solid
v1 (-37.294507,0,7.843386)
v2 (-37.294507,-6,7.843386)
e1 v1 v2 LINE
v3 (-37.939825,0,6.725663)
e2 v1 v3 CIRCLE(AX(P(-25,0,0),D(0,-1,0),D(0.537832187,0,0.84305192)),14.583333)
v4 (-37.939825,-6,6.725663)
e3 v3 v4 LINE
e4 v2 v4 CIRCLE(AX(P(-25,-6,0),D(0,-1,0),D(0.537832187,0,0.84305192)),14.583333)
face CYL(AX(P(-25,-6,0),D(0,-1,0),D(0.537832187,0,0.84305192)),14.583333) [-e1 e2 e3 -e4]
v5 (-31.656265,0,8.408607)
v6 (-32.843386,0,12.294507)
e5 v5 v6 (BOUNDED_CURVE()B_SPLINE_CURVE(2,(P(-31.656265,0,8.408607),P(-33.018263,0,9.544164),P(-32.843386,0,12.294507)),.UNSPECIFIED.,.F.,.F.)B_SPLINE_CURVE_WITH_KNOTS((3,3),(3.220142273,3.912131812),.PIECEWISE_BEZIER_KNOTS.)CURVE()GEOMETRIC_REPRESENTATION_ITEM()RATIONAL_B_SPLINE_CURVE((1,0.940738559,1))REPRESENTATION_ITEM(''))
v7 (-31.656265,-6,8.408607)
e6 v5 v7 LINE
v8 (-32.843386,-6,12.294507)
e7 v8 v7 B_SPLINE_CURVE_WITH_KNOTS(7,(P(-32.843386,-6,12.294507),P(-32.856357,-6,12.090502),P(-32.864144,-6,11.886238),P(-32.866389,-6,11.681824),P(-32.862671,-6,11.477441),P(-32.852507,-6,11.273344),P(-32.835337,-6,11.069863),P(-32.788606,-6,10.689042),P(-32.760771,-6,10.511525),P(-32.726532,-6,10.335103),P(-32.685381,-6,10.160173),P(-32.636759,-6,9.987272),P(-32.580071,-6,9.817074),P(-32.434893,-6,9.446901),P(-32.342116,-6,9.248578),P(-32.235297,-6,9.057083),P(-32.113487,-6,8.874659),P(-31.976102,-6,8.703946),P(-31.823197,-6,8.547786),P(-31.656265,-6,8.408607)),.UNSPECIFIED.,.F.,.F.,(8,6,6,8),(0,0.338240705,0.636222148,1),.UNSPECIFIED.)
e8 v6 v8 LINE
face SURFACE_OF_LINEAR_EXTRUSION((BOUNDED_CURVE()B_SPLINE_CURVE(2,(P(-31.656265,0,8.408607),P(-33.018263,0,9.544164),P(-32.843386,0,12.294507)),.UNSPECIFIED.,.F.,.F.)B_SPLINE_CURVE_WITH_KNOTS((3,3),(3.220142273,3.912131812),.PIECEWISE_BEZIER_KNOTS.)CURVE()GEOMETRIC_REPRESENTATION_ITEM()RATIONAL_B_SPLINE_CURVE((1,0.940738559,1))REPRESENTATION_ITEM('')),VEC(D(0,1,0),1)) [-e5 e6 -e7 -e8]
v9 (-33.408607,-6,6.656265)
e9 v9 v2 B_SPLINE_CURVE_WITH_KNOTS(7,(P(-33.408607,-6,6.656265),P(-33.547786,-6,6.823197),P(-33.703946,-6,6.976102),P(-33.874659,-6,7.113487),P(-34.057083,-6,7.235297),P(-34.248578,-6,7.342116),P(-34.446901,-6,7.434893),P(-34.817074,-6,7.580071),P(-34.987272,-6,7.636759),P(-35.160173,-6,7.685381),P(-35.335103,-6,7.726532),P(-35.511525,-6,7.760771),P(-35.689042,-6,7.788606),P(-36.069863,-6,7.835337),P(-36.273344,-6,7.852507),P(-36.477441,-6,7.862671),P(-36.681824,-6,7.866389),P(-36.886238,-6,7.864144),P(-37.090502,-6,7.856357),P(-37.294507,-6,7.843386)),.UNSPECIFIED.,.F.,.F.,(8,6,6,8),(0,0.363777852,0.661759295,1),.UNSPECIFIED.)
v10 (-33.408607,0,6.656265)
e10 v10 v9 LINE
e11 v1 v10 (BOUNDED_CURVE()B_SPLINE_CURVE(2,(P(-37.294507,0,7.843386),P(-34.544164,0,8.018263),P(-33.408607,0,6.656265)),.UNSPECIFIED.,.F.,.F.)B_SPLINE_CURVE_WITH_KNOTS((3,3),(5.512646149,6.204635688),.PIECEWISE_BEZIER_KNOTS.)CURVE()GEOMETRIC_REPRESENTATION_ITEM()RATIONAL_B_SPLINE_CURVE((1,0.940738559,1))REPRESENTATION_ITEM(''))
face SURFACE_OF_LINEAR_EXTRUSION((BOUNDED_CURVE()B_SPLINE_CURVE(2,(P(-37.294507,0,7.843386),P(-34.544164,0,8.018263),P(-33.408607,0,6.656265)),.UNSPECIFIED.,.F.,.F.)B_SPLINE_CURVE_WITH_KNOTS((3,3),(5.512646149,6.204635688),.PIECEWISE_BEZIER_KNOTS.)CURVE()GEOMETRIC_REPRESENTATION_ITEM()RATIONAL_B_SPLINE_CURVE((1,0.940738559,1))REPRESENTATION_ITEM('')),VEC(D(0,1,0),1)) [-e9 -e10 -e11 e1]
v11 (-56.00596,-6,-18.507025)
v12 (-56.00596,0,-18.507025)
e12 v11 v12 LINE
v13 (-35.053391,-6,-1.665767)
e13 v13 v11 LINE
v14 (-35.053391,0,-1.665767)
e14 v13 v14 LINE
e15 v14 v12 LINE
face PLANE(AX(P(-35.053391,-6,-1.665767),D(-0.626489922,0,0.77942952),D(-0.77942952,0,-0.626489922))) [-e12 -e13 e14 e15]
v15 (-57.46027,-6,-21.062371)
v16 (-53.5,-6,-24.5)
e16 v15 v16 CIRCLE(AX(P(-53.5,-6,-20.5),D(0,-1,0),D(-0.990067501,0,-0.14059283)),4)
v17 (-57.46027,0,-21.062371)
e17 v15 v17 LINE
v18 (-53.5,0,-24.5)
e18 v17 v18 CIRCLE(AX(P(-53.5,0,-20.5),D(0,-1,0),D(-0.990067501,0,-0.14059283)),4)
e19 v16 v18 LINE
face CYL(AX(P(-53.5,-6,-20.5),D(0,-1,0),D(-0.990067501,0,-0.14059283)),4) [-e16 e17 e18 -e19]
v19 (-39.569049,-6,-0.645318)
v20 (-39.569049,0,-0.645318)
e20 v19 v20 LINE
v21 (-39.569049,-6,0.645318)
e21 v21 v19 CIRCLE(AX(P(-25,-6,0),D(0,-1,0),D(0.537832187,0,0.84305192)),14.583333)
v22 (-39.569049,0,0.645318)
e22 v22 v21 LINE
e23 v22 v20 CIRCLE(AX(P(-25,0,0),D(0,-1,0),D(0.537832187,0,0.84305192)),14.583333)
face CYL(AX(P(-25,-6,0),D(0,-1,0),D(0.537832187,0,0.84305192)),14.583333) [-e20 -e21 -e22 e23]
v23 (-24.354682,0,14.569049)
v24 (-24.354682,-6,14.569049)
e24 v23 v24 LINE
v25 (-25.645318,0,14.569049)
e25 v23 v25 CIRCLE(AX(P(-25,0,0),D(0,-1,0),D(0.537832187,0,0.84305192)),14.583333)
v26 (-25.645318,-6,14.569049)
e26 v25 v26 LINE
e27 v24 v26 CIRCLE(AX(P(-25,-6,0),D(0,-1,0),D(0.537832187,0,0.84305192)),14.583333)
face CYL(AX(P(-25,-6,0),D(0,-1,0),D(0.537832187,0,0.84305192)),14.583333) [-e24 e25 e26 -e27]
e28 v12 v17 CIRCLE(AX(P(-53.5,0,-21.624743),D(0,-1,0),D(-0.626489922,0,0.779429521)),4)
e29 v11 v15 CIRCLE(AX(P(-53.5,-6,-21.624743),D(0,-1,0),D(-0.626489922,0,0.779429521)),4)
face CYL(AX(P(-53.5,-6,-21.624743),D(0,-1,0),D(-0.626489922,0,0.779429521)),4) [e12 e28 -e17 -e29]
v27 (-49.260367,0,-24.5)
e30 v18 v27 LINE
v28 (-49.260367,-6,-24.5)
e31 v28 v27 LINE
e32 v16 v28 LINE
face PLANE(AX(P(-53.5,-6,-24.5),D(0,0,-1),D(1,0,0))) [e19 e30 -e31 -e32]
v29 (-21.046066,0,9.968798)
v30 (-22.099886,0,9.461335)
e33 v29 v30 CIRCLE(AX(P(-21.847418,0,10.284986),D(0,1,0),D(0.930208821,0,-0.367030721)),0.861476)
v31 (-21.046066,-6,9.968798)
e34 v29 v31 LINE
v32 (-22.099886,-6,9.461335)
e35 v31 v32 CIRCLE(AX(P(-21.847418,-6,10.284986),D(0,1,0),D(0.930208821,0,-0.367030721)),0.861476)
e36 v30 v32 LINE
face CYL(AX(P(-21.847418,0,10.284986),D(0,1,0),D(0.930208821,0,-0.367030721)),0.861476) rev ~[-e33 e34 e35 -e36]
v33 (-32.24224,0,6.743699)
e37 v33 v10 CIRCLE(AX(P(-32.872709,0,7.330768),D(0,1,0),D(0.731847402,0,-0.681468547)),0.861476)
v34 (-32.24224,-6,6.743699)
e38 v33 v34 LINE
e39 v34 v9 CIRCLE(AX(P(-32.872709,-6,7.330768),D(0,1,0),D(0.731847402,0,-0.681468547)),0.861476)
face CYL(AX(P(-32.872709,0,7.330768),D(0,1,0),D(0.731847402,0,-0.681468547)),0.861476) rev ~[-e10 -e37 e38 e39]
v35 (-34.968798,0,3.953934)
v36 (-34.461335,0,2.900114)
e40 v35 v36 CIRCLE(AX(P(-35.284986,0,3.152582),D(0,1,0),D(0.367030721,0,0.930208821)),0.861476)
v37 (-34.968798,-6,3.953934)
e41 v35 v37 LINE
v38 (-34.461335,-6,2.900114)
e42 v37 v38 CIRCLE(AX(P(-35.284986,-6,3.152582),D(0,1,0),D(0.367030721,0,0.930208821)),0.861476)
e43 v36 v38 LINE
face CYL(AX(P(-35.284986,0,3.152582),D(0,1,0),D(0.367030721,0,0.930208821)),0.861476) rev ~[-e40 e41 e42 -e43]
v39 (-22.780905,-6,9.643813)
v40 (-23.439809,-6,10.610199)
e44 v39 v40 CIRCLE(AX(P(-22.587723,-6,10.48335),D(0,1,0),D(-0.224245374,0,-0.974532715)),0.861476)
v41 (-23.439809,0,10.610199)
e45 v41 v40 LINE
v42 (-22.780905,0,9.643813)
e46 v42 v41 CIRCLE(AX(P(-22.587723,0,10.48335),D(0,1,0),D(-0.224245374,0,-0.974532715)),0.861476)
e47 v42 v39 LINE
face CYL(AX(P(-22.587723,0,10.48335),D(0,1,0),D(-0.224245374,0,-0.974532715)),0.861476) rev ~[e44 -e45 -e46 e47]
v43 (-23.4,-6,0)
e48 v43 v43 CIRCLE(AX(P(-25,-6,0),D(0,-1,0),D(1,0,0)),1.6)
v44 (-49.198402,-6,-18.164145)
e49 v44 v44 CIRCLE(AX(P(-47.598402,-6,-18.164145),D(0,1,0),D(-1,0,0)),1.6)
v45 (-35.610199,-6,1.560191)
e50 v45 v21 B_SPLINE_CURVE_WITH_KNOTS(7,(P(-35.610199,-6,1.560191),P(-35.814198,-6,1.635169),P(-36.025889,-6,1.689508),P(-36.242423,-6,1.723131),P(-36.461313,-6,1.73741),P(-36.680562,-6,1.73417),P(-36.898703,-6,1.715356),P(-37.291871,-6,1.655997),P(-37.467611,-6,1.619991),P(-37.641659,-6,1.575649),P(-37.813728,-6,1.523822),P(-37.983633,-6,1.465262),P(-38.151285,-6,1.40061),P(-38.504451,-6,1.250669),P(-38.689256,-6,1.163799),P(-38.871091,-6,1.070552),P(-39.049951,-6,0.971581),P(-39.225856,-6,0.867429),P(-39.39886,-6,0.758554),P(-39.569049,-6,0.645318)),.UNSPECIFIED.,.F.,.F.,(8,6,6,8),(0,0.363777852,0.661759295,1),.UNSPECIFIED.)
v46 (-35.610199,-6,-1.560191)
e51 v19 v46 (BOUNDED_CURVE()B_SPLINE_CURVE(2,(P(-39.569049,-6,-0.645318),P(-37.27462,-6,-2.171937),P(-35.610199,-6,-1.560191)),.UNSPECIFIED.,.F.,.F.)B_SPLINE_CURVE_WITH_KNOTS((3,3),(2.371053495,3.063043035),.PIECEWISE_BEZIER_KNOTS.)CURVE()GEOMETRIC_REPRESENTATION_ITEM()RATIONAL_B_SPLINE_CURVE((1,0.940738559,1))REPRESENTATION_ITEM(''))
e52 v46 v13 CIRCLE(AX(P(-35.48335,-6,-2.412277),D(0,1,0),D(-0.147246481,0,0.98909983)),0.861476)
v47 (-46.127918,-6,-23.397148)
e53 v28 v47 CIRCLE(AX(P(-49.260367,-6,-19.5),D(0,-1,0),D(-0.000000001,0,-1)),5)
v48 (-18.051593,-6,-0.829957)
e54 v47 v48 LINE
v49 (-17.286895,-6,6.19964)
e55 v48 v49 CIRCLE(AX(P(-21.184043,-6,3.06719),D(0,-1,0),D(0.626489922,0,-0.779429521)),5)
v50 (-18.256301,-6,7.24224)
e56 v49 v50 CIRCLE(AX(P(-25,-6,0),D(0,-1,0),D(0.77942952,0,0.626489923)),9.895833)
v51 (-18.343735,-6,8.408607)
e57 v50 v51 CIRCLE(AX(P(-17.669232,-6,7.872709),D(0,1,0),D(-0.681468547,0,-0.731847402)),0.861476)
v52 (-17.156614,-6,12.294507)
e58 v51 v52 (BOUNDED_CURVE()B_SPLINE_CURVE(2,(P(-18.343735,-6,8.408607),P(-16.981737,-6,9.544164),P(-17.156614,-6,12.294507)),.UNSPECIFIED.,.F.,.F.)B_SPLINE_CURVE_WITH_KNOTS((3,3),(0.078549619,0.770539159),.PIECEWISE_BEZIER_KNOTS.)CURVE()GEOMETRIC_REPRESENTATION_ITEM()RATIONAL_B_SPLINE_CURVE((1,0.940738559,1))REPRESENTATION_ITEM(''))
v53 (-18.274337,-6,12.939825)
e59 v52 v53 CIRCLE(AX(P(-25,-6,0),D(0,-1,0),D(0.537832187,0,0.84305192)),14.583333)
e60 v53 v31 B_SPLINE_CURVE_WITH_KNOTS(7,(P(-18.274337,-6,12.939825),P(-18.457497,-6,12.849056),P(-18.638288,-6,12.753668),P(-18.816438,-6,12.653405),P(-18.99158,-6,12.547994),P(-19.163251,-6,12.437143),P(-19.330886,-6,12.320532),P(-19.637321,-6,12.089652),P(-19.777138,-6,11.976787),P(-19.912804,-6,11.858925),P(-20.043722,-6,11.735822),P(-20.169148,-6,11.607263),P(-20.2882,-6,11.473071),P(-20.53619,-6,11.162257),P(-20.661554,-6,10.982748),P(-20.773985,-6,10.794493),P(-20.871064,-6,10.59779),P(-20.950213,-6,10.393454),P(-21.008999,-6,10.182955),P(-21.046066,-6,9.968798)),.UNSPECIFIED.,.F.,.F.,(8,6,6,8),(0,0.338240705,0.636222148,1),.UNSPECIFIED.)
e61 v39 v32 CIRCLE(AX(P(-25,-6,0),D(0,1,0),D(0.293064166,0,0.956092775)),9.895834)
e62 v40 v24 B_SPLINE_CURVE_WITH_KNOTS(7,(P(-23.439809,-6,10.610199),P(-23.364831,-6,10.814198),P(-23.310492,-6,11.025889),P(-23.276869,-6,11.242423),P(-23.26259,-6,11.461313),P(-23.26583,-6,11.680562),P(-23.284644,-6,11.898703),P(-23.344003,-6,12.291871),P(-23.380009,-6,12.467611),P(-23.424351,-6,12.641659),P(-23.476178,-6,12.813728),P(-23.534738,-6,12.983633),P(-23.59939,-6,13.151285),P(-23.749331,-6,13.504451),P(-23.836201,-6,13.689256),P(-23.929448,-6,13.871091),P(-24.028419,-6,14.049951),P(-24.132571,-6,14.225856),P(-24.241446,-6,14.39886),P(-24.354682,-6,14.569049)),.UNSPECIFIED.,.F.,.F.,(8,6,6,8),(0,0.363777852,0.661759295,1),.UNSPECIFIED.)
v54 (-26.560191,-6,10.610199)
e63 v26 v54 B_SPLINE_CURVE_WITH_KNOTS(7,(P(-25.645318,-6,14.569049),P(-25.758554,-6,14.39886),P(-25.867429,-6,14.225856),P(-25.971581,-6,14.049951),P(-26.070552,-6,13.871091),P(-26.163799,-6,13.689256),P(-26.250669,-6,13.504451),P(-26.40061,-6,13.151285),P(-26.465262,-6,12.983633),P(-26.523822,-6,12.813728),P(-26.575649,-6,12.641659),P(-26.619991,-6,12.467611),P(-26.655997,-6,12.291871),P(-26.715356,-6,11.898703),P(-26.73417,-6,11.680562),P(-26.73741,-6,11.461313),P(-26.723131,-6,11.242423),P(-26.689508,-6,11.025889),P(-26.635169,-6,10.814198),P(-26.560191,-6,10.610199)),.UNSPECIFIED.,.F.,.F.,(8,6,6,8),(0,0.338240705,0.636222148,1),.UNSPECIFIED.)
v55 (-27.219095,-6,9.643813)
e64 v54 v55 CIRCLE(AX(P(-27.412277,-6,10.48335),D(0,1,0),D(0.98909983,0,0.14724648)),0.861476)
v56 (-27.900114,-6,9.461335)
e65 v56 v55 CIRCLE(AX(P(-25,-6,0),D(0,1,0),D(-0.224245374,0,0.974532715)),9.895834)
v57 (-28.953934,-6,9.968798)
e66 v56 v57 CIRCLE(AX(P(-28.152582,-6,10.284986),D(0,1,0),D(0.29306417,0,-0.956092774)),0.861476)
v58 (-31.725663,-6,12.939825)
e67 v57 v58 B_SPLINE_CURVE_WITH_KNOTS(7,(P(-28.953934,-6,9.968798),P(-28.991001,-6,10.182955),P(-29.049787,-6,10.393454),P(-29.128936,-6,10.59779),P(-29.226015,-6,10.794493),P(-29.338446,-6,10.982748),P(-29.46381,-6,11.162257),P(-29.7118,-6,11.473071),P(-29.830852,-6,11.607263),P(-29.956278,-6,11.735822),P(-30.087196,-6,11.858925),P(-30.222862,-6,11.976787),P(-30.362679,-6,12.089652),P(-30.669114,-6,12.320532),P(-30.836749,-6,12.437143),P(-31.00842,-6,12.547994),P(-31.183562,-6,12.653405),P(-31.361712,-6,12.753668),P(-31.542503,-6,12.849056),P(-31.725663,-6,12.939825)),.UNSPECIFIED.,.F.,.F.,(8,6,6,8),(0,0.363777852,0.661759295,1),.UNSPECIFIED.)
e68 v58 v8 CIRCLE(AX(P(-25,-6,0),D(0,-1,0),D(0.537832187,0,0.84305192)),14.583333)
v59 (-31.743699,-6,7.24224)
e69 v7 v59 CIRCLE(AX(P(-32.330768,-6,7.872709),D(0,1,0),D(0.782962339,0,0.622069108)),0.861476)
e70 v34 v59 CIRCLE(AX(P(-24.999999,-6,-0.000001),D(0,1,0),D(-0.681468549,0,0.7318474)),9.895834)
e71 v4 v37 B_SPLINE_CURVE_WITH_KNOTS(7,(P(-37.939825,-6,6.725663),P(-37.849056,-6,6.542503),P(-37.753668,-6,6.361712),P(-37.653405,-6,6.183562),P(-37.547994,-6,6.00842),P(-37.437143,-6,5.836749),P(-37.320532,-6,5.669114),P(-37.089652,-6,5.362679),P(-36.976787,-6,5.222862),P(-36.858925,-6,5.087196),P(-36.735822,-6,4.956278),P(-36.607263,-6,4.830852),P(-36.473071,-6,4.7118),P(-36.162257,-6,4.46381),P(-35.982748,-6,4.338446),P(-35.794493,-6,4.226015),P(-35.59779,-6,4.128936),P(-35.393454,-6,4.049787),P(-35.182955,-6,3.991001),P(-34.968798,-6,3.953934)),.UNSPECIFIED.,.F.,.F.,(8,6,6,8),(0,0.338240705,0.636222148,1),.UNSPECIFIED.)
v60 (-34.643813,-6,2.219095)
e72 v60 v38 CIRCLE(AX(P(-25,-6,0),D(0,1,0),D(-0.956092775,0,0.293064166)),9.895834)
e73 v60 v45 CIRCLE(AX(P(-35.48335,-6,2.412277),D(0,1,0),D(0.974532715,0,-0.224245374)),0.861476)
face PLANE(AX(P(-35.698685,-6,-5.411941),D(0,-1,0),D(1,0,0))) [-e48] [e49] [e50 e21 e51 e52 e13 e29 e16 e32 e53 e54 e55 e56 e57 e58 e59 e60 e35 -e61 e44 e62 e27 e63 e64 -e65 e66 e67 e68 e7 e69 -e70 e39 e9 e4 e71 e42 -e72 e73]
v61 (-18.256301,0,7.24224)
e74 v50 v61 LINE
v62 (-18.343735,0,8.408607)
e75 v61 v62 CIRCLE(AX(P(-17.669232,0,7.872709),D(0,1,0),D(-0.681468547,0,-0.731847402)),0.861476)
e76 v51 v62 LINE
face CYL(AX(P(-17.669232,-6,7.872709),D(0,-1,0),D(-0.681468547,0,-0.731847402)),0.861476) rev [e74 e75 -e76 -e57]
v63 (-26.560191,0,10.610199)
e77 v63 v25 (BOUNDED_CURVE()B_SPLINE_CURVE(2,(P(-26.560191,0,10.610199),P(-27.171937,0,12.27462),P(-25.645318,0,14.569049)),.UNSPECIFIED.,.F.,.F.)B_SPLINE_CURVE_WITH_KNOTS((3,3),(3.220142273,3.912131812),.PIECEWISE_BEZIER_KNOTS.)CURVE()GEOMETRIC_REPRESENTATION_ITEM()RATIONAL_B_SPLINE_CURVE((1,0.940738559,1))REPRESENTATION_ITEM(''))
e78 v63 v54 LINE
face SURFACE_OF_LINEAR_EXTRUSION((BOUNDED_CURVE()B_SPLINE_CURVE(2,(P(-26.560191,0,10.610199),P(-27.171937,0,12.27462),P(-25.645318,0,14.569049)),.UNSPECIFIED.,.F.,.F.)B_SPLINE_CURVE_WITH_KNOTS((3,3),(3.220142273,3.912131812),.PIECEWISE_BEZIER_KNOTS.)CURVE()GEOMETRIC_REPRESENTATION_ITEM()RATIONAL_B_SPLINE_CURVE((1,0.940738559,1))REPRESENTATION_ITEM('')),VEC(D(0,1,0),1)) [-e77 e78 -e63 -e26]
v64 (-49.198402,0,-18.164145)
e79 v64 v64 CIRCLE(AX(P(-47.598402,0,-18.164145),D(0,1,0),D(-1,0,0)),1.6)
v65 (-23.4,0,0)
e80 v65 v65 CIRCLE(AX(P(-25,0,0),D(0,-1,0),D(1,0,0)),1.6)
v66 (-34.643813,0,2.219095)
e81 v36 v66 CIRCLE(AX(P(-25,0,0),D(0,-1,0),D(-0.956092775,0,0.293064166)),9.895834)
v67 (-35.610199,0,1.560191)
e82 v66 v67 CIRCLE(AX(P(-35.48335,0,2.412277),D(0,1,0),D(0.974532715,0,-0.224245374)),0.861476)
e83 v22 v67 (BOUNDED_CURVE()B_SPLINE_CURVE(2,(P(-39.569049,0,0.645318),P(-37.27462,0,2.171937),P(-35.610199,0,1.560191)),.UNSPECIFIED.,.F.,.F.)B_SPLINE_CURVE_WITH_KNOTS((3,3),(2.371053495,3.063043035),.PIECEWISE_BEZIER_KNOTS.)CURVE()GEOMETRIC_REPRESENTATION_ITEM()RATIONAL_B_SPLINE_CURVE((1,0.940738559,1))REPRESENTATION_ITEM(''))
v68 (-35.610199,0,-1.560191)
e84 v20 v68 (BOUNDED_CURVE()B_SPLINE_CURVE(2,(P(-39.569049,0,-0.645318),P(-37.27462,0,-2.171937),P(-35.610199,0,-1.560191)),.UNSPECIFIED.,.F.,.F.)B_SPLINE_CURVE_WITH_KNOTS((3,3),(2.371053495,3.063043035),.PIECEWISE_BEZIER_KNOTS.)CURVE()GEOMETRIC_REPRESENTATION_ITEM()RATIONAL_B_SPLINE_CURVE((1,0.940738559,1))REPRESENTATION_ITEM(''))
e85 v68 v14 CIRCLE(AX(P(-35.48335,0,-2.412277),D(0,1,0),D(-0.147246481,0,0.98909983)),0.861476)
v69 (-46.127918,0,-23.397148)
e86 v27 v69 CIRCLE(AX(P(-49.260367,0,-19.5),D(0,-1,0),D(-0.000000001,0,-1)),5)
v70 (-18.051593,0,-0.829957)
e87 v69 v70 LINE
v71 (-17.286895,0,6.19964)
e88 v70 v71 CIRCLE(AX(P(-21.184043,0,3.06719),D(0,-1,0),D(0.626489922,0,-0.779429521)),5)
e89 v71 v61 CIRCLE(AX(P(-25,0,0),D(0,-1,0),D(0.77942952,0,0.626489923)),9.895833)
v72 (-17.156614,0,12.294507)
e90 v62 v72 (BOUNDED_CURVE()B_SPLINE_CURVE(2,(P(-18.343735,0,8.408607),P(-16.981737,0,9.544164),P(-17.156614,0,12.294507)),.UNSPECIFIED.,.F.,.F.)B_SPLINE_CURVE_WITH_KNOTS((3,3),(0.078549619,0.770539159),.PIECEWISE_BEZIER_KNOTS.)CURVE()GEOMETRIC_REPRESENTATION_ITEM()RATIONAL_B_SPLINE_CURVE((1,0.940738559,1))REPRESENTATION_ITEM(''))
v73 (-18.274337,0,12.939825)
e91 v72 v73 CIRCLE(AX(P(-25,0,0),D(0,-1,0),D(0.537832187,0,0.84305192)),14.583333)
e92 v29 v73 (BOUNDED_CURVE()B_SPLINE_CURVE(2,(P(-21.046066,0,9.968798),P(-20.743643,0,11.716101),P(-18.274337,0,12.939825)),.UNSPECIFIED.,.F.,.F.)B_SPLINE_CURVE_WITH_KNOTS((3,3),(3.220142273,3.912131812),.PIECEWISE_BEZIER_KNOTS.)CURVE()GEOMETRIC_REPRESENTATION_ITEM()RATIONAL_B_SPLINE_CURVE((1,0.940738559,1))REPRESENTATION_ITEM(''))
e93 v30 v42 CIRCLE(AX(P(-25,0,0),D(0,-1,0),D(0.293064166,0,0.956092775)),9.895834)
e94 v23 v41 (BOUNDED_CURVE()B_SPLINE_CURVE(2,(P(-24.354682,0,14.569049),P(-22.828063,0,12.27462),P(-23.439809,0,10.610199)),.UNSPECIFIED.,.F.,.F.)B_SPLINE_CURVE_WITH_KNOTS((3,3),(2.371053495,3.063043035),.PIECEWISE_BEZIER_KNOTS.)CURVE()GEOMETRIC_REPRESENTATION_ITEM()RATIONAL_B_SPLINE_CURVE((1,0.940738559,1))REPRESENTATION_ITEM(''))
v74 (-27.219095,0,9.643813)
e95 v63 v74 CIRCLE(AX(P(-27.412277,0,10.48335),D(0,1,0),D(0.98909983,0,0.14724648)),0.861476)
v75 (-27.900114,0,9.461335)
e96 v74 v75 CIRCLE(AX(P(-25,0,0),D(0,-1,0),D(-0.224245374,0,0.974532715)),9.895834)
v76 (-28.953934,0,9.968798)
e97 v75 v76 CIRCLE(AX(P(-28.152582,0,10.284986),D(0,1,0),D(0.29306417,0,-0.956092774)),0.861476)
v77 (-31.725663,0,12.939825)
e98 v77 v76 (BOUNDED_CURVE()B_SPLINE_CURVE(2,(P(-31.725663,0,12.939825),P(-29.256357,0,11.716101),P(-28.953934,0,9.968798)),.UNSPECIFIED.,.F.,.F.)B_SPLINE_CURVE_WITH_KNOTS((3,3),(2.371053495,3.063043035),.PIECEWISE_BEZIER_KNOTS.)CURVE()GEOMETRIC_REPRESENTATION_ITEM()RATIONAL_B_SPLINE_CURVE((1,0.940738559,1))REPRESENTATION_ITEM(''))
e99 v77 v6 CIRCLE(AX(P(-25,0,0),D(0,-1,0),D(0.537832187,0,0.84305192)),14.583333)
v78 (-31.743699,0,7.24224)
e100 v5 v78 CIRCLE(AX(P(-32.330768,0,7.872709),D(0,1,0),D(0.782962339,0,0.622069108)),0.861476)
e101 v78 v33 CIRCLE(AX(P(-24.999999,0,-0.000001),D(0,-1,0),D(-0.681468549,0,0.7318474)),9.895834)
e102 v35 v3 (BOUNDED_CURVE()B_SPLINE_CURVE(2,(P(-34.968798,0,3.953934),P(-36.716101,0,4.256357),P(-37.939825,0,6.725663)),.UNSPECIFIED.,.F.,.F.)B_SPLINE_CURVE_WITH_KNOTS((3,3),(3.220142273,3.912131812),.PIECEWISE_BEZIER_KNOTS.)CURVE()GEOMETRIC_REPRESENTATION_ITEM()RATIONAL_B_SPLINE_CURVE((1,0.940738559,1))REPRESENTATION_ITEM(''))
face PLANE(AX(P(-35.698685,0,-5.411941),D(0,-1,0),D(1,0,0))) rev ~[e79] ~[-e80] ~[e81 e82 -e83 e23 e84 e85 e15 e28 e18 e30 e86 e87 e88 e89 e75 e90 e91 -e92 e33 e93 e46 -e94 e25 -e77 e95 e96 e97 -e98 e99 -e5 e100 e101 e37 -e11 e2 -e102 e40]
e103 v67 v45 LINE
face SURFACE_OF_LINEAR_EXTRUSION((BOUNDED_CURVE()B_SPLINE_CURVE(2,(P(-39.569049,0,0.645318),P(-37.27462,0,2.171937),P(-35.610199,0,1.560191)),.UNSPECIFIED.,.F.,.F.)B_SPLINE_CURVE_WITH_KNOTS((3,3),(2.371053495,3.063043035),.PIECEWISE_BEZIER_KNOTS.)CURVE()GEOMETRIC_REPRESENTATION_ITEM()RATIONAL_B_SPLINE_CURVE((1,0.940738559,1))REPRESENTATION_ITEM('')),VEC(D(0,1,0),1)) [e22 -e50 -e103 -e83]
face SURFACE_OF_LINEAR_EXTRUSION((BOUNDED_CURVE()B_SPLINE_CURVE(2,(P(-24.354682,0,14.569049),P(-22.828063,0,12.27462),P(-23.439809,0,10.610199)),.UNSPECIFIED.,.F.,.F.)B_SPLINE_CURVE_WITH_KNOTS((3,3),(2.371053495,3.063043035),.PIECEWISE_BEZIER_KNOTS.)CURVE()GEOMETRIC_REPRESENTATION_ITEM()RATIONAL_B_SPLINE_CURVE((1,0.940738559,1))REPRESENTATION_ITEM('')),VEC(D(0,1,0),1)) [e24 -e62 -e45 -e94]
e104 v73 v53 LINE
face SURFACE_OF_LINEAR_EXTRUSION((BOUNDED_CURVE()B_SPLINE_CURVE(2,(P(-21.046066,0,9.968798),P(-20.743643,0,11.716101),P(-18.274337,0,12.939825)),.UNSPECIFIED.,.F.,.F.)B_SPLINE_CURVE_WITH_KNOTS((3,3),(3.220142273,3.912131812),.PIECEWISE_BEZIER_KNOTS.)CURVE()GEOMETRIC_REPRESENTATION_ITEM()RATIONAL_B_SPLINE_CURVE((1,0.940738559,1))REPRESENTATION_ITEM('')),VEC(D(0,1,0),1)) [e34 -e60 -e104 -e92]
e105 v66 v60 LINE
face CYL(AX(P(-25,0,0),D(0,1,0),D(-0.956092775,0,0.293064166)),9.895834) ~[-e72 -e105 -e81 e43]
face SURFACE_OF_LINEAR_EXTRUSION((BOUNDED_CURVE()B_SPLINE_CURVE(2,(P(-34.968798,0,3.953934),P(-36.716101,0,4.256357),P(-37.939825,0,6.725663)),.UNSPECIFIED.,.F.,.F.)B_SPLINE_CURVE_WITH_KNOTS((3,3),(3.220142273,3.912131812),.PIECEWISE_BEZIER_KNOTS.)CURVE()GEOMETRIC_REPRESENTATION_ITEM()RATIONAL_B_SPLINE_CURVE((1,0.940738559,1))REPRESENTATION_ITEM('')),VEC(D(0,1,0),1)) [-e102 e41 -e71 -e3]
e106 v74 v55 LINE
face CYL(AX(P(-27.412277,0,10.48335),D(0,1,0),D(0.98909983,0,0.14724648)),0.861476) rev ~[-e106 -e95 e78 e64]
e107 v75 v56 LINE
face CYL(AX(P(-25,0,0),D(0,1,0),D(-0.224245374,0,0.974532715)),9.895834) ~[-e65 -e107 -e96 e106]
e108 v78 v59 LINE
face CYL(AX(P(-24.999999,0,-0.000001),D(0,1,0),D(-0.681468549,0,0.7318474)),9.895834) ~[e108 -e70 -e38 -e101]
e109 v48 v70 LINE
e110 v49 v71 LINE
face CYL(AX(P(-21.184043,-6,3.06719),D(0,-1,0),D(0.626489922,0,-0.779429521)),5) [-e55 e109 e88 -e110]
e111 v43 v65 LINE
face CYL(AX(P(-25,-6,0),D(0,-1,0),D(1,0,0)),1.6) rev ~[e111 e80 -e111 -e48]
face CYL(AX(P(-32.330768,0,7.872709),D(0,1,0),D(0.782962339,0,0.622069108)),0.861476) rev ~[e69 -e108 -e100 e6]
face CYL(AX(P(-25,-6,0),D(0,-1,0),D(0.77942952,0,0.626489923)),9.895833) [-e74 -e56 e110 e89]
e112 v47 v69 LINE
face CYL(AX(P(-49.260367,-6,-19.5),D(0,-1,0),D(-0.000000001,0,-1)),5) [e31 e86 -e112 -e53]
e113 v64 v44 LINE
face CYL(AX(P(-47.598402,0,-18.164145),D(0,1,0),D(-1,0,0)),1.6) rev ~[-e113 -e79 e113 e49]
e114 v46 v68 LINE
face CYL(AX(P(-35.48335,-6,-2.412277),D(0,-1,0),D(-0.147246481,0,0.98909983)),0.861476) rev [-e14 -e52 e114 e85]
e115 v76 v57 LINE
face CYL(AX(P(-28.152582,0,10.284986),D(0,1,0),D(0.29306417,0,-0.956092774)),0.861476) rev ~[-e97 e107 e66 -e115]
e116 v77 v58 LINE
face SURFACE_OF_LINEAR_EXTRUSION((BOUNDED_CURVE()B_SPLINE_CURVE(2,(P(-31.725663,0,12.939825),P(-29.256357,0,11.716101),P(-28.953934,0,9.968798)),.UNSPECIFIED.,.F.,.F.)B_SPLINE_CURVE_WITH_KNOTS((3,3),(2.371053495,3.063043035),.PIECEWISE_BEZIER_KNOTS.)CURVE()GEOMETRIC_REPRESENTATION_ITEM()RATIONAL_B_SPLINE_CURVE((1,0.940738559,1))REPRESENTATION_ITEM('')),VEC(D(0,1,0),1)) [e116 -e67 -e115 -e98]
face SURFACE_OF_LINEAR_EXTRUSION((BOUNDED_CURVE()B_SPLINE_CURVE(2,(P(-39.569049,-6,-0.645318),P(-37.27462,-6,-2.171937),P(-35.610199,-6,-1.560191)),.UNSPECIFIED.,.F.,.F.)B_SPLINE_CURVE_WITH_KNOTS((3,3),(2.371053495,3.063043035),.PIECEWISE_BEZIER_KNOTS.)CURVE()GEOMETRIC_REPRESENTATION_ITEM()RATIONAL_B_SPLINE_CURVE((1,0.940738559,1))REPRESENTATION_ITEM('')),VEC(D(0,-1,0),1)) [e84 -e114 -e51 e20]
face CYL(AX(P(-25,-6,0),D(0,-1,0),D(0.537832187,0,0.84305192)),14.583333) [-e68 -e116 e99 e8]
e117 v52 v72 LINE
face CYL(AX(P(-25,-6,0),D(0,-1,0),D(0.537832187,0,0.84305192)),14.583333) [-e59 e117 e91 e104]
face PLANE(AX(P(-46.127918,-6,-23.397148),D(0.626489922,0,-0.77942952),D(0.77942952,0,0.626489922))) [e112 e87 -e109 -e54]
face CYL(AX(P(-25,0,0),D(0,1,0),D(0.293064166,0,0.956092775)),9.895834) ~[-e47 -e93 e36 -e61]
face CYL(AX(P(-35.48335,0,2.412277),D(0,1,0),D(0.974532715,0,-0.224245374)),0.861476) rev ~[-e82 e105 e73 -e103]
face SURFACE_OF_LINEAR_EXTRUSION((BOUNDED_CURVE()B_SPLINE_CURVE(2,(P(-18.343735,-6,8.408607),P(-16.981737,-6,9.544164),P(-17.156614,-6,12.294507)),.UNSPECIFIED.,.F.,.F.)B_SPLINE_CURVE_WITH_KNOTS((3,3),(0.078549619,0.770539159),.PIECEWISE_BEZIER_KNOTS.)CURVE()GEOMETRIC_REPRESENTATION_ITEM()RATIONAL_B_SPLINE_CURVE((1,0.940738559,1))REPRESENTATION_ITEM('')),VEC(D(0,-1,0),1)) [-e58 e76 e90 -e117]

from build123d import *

# Parameters (mm, degrees)
RESSALTO_EXTRUS_O1_DEPTH = 6
CORTE_EXTRUS_O1_DEPTH    = 7.0000001
CORTE_EXTRUS_O2_DEPTH    = 7.0000001
CORTE_EXTRUS_O3_DEPTH    = 7.0000001
CORTE_EXTRUS_O4_DEPTH    = 7.0000001
ESBO_O6_R                = 1.6
CORTE_EXTRUS_O5_DEPTH    = 7.0000001
ESBO_O7_R                = 1.6
CORTE_EXTRUS_O6_DEPTH    = 7.0000001


with BuildPart() as part:
    # Esboço1 → Ressalto-extrusão1 (new body)
    with BuildSketch(Plane.XZ.offset(6)):
        with BuildLine():
            Line((-35.053391166, -1.665767354), (-56.005959689, -18.507024557))
            ThreePointArc((-56.005959689, -18.507024557), (-56.976417823, -19.646228266), (-57.460270003, -21.062371319))
            ThreePointArc((-57.460270003, -21.062371319), (-56.122071197, -23.520718894), (-53.5, -24.5))
            Line((-53.5, -24.5), (-49.26036734, -24.5))
            ThreePointArc((-49.26036734, -24.5), (-47.599906261, -24.216234622), (-46.127917729, -23.397147602))
            Line((-46.127917729, -23.397147602), (-18.051593362, -0.829957358))
            ThreePointArc((-18.051593362, -0.829957358), (-16.213367114, 2.526467109), (-17.286895371, 6.199639856))
            ThreePointArc((-17.286895371, 6.199639856), (-17.752824847, 6.738395184), (-18.256300836, 7.242239912))
            ThreePointArc((-18.256300836, 7.242239912), (-18.528297677, 7.80831066), (-18.343735303, 8.408606506))
            add(Edge.make_bspline(
                [(-18.343735303, 8.408606506), (-16.98173735, 9.54416389), (-17.156613946, 12.29450716)],
                knots=[0.078549619, 0.078549619, 0.078549619, 0.770539159, 0.770539159, 0.770539159], degree=2, weights=[1, 0.940738559, 1]))
            ThreePointArc((-17.156613946, 12.29450716), (-32.291666667, 12.629537139), (-39.569048555, -0.645317995))
            add(Edge.make_bspline(
                [(-39.569048555, -0.645317995), (-37.274619711, -2.171937204), (-35.610199193, -1.560191069)],
                knots=[2.371053495, 2.371053495, 2.371053495, 3.063043035, 3.063043035, 3.063043035], degree=2, weights=[1, 0.940738559, 1]))
            ThreePointArc((-35.610199193, -1.560191069), (-35.322864942, -1.565881251), (-35.053391166, -1.665767354))
        make_face()
    extrude(amount=-RESSALTO_EXTRUS_O1_DEPTH)

    # Esboço2 → Corte-extrusão1 (cut, through all)
    with BuildSketch(Plane(origin=(0, 0, 0), x_dir=(-1, 0, 0), z_dir=(0, 1, 0))):
        with BuildLine():
            ThreePointArc((24.354682005, 14.569048555), (21.225555592, 14.0864183), (18.274337499, 12.939825155))
            add(Edge.make_bspline(
                [(21.046065504, 9.968797575), (20.743642938, 11.716101094), (18.274337499, 12.939825155)],
                knots=[3.220142273, 3.220142273, 3.220142273, 3.912131812, 3.912131812, 3.912131812], degree=2, weights=[1, 0.940738559, 1]))
            ThreePointArc((21.046065504, 9.968797575), (21.47365577, 9.508813947), (22.099885838, 9.461334748))
            ThreePointArc((22.099885838, 9.461334748), (22.438769866, 9.558640989), (22.780905164, 9.643813326))
            ThreePointArc((22.780905164, 9.643813326), (23.299496712, 9.998046554), (23.439808931, 10.610199193))
            add(Edge.make_bspline(
                [(24.354682005, 14.569048555), (22.828062796, 12.274619711), (23.439808931, 10.610199193)],
                knots=[2.371053495, 2.371053495, 2.371053495, 3.063043035, 3.063043035, 3.063043035], degree=2, weights=[1, 0.940738559, 1]))
        make_face()
    extrude(amount=-CORTE_EXTRUS_O1_DEPTH, mode=Mode.SUBTRACT)

    # Esboço3 → Corte-extrusão2 (cut, through all)
    with BuildSketch(Plane(origin=(0, 0, 0), x_dir=(-1, 0, 0), z_dir=(0, 1, 0))):
        with BuildLine():
            ThreePointArc((31.725662501, 12.939825155), (28.774444408, 14.0864183), (25.645317995, 14.569048555))
            add(Edge.make_bspline(
                [(26.560191069, 10.610199193), (27.171937204, 12.274619711), (25.645317995, 14.569048555)],
                knots=[3.220142273, 3.220142273, 3.220142273, 3.912131812, 3.912131812, 3.912131812], degree=2, weights=[1, 0.940738559, 1]))
            ThreePointArc((26.560191069, 10.610199193), (26.700503288, 9.998046554), (27.219094836, 9.643813326))
            ThreePointArc((27.219094836, 9.643813326), (27.561230134, 9.558640989), (27.900114162, 9.461334748))
            ThreePointArc((27.900114162, 9.461334748), (28.52634423, 9.508813947), (28.953934496, 9.968797575))
            add(Edge.make_bspline(
                [(31.725662501, 12.939825155), (29.256357062, 11.716101094), (28.953934496, 9.968797575)],
                knots=[2.371053495, 2.371053495, 2.371053495, 3.063043035, 3.063043035, 3.063043035], degree=2, weights=[1, 0.940738559, 1]))
        make_face()
    extrude(amount=-CORTE_EXTRUS_O2_DEPTH, mode=Mode.SUBTRACT)

    # Esboço4 → Corte-extrusão3 (cut, through all)
    with BuildSketch(Plane(origin=(0, 0, 0), x_dir=(-1, 0, 0), z_dir=(0, 1, 0))):
        with BuildLine():
            ThreePointArc((37.29450716, 7.843386054), (35.311973892, 10.311973892), (32.843386054, 12.29450716))
            add(Edge.make_bspline(
                [(31.656264697, 8.408606506), (33.01826265, 9.54416389), (32.843386054, 12.29450716)],
                knots=[3.220142273, 3.220142273, 3.220142273, 3.912131812, 3.912131812, 3.912131812], degree=2, weights=[1, 0.940738559, 1]))
            ThreePointArc((31.656264697, 8.408606506), (31.471702323, 7.80831066), (31.743699164, 7.242239912))
            ThreePointArc((31.743699164, 7.242239912), (31.997410855, 6.997410855), (32.242239912, 6.743699164))
            ThreePointArc((32.242239912, 6.743699164), (32.80831066, 6.471702323), (33.408606506, 6.656264697))
            add(Edge.make_bspline(
                [(37.29450716, 7.843386054), (34.54416389, 8.01826265), (33.408606506, 6.656264697)],
                knots=[5.512646149, 5.512646149, 5.512646149, 6.204635688, 6.204635688, 6.204635688], degree=2, weights=[1, 0.940738559, 1]))
        make_face()
    extrude(amount=-CORTE_EXTRUS_O3_DEPTH, mode=Mode.SUBTRACT)

    # Esboço5 → Corte-extrusão4 (cut, through all)
    with BuildSketch(Plane(origin=(0, 0, 0), x_dir=(-1, 0, 0), z_dir=(0, 1, 0))):
        with BuildLine():
            ThreePointArc((39.569048555, 0.645317995), (39.0864183, 3.774444408), (37.939825155, 6.725662501))
            add(Edge.make_bspline(
                [(34.968797575, 3.953934496), (36.716101094, 4.256357062), (37.939825155, 6.725662501)],
                knots=[3.220142273, 3.220142273, 3.220142273, 3.912131812, 3.912131812, 3.912131812], degree=2, weights=[1, 0.940738559, 1]))
            ThreePointArc((34.968797575, 3.953934496), (34.508813947, 3.52634423), (34.461334748, 2.900114162))
            ThreePointArc((34.461334748, 2.900114162), (34.558640989, 2.561230134), (34.643813326, 2.219094836))
            ThreePointArc((34.643813326, 2.219094836), (34.998046554, 1.700503288), (35.610199193, 1.560191069))
            add(Edge.make_bspline(
                [(39.569048555, 0.645317995), (37.274619711, 2.171937204), (35.610199193, 1.560191069)],
                knots=[2.371053495, 2.371053495, 2.371053495, 3.063043035, 3.063043035, 3.063043035], degree=2, weights=[1, 0.940738559, 1]))
        make_face()
    extrude(amount=-CORTE_EXTRUS_O4_DEPTH, mode=Mode.SUBTRACT)

    # Esboço6 → Corte-extrusão5 (cut, through all)
    with BuildSketch(Plane.XZ.offset(6)):
        with Locations((-25, 0)):
            Circle(ESBO_O6_R)
    extrude(amount=-CORTE_EXTRUS_O5_DEPTH, mode=Mode.SUBTRACT)

    # Esboço7 → Corte-extrusão6 (cut, through all)
    with BuildSketch(Plane(origin=(0, 0, 0), x_dir=(-1, 0, 0), z_dir=(0, 1, 0))):
        with Locations((47.598401843, -18.16414524)):
            Circle(ESBO_O7_R)
    extrude(amount=-CORTE_EXTRUS_O6_DEPTH, mode=Mode.SUBTRACT)


solid = part.part
